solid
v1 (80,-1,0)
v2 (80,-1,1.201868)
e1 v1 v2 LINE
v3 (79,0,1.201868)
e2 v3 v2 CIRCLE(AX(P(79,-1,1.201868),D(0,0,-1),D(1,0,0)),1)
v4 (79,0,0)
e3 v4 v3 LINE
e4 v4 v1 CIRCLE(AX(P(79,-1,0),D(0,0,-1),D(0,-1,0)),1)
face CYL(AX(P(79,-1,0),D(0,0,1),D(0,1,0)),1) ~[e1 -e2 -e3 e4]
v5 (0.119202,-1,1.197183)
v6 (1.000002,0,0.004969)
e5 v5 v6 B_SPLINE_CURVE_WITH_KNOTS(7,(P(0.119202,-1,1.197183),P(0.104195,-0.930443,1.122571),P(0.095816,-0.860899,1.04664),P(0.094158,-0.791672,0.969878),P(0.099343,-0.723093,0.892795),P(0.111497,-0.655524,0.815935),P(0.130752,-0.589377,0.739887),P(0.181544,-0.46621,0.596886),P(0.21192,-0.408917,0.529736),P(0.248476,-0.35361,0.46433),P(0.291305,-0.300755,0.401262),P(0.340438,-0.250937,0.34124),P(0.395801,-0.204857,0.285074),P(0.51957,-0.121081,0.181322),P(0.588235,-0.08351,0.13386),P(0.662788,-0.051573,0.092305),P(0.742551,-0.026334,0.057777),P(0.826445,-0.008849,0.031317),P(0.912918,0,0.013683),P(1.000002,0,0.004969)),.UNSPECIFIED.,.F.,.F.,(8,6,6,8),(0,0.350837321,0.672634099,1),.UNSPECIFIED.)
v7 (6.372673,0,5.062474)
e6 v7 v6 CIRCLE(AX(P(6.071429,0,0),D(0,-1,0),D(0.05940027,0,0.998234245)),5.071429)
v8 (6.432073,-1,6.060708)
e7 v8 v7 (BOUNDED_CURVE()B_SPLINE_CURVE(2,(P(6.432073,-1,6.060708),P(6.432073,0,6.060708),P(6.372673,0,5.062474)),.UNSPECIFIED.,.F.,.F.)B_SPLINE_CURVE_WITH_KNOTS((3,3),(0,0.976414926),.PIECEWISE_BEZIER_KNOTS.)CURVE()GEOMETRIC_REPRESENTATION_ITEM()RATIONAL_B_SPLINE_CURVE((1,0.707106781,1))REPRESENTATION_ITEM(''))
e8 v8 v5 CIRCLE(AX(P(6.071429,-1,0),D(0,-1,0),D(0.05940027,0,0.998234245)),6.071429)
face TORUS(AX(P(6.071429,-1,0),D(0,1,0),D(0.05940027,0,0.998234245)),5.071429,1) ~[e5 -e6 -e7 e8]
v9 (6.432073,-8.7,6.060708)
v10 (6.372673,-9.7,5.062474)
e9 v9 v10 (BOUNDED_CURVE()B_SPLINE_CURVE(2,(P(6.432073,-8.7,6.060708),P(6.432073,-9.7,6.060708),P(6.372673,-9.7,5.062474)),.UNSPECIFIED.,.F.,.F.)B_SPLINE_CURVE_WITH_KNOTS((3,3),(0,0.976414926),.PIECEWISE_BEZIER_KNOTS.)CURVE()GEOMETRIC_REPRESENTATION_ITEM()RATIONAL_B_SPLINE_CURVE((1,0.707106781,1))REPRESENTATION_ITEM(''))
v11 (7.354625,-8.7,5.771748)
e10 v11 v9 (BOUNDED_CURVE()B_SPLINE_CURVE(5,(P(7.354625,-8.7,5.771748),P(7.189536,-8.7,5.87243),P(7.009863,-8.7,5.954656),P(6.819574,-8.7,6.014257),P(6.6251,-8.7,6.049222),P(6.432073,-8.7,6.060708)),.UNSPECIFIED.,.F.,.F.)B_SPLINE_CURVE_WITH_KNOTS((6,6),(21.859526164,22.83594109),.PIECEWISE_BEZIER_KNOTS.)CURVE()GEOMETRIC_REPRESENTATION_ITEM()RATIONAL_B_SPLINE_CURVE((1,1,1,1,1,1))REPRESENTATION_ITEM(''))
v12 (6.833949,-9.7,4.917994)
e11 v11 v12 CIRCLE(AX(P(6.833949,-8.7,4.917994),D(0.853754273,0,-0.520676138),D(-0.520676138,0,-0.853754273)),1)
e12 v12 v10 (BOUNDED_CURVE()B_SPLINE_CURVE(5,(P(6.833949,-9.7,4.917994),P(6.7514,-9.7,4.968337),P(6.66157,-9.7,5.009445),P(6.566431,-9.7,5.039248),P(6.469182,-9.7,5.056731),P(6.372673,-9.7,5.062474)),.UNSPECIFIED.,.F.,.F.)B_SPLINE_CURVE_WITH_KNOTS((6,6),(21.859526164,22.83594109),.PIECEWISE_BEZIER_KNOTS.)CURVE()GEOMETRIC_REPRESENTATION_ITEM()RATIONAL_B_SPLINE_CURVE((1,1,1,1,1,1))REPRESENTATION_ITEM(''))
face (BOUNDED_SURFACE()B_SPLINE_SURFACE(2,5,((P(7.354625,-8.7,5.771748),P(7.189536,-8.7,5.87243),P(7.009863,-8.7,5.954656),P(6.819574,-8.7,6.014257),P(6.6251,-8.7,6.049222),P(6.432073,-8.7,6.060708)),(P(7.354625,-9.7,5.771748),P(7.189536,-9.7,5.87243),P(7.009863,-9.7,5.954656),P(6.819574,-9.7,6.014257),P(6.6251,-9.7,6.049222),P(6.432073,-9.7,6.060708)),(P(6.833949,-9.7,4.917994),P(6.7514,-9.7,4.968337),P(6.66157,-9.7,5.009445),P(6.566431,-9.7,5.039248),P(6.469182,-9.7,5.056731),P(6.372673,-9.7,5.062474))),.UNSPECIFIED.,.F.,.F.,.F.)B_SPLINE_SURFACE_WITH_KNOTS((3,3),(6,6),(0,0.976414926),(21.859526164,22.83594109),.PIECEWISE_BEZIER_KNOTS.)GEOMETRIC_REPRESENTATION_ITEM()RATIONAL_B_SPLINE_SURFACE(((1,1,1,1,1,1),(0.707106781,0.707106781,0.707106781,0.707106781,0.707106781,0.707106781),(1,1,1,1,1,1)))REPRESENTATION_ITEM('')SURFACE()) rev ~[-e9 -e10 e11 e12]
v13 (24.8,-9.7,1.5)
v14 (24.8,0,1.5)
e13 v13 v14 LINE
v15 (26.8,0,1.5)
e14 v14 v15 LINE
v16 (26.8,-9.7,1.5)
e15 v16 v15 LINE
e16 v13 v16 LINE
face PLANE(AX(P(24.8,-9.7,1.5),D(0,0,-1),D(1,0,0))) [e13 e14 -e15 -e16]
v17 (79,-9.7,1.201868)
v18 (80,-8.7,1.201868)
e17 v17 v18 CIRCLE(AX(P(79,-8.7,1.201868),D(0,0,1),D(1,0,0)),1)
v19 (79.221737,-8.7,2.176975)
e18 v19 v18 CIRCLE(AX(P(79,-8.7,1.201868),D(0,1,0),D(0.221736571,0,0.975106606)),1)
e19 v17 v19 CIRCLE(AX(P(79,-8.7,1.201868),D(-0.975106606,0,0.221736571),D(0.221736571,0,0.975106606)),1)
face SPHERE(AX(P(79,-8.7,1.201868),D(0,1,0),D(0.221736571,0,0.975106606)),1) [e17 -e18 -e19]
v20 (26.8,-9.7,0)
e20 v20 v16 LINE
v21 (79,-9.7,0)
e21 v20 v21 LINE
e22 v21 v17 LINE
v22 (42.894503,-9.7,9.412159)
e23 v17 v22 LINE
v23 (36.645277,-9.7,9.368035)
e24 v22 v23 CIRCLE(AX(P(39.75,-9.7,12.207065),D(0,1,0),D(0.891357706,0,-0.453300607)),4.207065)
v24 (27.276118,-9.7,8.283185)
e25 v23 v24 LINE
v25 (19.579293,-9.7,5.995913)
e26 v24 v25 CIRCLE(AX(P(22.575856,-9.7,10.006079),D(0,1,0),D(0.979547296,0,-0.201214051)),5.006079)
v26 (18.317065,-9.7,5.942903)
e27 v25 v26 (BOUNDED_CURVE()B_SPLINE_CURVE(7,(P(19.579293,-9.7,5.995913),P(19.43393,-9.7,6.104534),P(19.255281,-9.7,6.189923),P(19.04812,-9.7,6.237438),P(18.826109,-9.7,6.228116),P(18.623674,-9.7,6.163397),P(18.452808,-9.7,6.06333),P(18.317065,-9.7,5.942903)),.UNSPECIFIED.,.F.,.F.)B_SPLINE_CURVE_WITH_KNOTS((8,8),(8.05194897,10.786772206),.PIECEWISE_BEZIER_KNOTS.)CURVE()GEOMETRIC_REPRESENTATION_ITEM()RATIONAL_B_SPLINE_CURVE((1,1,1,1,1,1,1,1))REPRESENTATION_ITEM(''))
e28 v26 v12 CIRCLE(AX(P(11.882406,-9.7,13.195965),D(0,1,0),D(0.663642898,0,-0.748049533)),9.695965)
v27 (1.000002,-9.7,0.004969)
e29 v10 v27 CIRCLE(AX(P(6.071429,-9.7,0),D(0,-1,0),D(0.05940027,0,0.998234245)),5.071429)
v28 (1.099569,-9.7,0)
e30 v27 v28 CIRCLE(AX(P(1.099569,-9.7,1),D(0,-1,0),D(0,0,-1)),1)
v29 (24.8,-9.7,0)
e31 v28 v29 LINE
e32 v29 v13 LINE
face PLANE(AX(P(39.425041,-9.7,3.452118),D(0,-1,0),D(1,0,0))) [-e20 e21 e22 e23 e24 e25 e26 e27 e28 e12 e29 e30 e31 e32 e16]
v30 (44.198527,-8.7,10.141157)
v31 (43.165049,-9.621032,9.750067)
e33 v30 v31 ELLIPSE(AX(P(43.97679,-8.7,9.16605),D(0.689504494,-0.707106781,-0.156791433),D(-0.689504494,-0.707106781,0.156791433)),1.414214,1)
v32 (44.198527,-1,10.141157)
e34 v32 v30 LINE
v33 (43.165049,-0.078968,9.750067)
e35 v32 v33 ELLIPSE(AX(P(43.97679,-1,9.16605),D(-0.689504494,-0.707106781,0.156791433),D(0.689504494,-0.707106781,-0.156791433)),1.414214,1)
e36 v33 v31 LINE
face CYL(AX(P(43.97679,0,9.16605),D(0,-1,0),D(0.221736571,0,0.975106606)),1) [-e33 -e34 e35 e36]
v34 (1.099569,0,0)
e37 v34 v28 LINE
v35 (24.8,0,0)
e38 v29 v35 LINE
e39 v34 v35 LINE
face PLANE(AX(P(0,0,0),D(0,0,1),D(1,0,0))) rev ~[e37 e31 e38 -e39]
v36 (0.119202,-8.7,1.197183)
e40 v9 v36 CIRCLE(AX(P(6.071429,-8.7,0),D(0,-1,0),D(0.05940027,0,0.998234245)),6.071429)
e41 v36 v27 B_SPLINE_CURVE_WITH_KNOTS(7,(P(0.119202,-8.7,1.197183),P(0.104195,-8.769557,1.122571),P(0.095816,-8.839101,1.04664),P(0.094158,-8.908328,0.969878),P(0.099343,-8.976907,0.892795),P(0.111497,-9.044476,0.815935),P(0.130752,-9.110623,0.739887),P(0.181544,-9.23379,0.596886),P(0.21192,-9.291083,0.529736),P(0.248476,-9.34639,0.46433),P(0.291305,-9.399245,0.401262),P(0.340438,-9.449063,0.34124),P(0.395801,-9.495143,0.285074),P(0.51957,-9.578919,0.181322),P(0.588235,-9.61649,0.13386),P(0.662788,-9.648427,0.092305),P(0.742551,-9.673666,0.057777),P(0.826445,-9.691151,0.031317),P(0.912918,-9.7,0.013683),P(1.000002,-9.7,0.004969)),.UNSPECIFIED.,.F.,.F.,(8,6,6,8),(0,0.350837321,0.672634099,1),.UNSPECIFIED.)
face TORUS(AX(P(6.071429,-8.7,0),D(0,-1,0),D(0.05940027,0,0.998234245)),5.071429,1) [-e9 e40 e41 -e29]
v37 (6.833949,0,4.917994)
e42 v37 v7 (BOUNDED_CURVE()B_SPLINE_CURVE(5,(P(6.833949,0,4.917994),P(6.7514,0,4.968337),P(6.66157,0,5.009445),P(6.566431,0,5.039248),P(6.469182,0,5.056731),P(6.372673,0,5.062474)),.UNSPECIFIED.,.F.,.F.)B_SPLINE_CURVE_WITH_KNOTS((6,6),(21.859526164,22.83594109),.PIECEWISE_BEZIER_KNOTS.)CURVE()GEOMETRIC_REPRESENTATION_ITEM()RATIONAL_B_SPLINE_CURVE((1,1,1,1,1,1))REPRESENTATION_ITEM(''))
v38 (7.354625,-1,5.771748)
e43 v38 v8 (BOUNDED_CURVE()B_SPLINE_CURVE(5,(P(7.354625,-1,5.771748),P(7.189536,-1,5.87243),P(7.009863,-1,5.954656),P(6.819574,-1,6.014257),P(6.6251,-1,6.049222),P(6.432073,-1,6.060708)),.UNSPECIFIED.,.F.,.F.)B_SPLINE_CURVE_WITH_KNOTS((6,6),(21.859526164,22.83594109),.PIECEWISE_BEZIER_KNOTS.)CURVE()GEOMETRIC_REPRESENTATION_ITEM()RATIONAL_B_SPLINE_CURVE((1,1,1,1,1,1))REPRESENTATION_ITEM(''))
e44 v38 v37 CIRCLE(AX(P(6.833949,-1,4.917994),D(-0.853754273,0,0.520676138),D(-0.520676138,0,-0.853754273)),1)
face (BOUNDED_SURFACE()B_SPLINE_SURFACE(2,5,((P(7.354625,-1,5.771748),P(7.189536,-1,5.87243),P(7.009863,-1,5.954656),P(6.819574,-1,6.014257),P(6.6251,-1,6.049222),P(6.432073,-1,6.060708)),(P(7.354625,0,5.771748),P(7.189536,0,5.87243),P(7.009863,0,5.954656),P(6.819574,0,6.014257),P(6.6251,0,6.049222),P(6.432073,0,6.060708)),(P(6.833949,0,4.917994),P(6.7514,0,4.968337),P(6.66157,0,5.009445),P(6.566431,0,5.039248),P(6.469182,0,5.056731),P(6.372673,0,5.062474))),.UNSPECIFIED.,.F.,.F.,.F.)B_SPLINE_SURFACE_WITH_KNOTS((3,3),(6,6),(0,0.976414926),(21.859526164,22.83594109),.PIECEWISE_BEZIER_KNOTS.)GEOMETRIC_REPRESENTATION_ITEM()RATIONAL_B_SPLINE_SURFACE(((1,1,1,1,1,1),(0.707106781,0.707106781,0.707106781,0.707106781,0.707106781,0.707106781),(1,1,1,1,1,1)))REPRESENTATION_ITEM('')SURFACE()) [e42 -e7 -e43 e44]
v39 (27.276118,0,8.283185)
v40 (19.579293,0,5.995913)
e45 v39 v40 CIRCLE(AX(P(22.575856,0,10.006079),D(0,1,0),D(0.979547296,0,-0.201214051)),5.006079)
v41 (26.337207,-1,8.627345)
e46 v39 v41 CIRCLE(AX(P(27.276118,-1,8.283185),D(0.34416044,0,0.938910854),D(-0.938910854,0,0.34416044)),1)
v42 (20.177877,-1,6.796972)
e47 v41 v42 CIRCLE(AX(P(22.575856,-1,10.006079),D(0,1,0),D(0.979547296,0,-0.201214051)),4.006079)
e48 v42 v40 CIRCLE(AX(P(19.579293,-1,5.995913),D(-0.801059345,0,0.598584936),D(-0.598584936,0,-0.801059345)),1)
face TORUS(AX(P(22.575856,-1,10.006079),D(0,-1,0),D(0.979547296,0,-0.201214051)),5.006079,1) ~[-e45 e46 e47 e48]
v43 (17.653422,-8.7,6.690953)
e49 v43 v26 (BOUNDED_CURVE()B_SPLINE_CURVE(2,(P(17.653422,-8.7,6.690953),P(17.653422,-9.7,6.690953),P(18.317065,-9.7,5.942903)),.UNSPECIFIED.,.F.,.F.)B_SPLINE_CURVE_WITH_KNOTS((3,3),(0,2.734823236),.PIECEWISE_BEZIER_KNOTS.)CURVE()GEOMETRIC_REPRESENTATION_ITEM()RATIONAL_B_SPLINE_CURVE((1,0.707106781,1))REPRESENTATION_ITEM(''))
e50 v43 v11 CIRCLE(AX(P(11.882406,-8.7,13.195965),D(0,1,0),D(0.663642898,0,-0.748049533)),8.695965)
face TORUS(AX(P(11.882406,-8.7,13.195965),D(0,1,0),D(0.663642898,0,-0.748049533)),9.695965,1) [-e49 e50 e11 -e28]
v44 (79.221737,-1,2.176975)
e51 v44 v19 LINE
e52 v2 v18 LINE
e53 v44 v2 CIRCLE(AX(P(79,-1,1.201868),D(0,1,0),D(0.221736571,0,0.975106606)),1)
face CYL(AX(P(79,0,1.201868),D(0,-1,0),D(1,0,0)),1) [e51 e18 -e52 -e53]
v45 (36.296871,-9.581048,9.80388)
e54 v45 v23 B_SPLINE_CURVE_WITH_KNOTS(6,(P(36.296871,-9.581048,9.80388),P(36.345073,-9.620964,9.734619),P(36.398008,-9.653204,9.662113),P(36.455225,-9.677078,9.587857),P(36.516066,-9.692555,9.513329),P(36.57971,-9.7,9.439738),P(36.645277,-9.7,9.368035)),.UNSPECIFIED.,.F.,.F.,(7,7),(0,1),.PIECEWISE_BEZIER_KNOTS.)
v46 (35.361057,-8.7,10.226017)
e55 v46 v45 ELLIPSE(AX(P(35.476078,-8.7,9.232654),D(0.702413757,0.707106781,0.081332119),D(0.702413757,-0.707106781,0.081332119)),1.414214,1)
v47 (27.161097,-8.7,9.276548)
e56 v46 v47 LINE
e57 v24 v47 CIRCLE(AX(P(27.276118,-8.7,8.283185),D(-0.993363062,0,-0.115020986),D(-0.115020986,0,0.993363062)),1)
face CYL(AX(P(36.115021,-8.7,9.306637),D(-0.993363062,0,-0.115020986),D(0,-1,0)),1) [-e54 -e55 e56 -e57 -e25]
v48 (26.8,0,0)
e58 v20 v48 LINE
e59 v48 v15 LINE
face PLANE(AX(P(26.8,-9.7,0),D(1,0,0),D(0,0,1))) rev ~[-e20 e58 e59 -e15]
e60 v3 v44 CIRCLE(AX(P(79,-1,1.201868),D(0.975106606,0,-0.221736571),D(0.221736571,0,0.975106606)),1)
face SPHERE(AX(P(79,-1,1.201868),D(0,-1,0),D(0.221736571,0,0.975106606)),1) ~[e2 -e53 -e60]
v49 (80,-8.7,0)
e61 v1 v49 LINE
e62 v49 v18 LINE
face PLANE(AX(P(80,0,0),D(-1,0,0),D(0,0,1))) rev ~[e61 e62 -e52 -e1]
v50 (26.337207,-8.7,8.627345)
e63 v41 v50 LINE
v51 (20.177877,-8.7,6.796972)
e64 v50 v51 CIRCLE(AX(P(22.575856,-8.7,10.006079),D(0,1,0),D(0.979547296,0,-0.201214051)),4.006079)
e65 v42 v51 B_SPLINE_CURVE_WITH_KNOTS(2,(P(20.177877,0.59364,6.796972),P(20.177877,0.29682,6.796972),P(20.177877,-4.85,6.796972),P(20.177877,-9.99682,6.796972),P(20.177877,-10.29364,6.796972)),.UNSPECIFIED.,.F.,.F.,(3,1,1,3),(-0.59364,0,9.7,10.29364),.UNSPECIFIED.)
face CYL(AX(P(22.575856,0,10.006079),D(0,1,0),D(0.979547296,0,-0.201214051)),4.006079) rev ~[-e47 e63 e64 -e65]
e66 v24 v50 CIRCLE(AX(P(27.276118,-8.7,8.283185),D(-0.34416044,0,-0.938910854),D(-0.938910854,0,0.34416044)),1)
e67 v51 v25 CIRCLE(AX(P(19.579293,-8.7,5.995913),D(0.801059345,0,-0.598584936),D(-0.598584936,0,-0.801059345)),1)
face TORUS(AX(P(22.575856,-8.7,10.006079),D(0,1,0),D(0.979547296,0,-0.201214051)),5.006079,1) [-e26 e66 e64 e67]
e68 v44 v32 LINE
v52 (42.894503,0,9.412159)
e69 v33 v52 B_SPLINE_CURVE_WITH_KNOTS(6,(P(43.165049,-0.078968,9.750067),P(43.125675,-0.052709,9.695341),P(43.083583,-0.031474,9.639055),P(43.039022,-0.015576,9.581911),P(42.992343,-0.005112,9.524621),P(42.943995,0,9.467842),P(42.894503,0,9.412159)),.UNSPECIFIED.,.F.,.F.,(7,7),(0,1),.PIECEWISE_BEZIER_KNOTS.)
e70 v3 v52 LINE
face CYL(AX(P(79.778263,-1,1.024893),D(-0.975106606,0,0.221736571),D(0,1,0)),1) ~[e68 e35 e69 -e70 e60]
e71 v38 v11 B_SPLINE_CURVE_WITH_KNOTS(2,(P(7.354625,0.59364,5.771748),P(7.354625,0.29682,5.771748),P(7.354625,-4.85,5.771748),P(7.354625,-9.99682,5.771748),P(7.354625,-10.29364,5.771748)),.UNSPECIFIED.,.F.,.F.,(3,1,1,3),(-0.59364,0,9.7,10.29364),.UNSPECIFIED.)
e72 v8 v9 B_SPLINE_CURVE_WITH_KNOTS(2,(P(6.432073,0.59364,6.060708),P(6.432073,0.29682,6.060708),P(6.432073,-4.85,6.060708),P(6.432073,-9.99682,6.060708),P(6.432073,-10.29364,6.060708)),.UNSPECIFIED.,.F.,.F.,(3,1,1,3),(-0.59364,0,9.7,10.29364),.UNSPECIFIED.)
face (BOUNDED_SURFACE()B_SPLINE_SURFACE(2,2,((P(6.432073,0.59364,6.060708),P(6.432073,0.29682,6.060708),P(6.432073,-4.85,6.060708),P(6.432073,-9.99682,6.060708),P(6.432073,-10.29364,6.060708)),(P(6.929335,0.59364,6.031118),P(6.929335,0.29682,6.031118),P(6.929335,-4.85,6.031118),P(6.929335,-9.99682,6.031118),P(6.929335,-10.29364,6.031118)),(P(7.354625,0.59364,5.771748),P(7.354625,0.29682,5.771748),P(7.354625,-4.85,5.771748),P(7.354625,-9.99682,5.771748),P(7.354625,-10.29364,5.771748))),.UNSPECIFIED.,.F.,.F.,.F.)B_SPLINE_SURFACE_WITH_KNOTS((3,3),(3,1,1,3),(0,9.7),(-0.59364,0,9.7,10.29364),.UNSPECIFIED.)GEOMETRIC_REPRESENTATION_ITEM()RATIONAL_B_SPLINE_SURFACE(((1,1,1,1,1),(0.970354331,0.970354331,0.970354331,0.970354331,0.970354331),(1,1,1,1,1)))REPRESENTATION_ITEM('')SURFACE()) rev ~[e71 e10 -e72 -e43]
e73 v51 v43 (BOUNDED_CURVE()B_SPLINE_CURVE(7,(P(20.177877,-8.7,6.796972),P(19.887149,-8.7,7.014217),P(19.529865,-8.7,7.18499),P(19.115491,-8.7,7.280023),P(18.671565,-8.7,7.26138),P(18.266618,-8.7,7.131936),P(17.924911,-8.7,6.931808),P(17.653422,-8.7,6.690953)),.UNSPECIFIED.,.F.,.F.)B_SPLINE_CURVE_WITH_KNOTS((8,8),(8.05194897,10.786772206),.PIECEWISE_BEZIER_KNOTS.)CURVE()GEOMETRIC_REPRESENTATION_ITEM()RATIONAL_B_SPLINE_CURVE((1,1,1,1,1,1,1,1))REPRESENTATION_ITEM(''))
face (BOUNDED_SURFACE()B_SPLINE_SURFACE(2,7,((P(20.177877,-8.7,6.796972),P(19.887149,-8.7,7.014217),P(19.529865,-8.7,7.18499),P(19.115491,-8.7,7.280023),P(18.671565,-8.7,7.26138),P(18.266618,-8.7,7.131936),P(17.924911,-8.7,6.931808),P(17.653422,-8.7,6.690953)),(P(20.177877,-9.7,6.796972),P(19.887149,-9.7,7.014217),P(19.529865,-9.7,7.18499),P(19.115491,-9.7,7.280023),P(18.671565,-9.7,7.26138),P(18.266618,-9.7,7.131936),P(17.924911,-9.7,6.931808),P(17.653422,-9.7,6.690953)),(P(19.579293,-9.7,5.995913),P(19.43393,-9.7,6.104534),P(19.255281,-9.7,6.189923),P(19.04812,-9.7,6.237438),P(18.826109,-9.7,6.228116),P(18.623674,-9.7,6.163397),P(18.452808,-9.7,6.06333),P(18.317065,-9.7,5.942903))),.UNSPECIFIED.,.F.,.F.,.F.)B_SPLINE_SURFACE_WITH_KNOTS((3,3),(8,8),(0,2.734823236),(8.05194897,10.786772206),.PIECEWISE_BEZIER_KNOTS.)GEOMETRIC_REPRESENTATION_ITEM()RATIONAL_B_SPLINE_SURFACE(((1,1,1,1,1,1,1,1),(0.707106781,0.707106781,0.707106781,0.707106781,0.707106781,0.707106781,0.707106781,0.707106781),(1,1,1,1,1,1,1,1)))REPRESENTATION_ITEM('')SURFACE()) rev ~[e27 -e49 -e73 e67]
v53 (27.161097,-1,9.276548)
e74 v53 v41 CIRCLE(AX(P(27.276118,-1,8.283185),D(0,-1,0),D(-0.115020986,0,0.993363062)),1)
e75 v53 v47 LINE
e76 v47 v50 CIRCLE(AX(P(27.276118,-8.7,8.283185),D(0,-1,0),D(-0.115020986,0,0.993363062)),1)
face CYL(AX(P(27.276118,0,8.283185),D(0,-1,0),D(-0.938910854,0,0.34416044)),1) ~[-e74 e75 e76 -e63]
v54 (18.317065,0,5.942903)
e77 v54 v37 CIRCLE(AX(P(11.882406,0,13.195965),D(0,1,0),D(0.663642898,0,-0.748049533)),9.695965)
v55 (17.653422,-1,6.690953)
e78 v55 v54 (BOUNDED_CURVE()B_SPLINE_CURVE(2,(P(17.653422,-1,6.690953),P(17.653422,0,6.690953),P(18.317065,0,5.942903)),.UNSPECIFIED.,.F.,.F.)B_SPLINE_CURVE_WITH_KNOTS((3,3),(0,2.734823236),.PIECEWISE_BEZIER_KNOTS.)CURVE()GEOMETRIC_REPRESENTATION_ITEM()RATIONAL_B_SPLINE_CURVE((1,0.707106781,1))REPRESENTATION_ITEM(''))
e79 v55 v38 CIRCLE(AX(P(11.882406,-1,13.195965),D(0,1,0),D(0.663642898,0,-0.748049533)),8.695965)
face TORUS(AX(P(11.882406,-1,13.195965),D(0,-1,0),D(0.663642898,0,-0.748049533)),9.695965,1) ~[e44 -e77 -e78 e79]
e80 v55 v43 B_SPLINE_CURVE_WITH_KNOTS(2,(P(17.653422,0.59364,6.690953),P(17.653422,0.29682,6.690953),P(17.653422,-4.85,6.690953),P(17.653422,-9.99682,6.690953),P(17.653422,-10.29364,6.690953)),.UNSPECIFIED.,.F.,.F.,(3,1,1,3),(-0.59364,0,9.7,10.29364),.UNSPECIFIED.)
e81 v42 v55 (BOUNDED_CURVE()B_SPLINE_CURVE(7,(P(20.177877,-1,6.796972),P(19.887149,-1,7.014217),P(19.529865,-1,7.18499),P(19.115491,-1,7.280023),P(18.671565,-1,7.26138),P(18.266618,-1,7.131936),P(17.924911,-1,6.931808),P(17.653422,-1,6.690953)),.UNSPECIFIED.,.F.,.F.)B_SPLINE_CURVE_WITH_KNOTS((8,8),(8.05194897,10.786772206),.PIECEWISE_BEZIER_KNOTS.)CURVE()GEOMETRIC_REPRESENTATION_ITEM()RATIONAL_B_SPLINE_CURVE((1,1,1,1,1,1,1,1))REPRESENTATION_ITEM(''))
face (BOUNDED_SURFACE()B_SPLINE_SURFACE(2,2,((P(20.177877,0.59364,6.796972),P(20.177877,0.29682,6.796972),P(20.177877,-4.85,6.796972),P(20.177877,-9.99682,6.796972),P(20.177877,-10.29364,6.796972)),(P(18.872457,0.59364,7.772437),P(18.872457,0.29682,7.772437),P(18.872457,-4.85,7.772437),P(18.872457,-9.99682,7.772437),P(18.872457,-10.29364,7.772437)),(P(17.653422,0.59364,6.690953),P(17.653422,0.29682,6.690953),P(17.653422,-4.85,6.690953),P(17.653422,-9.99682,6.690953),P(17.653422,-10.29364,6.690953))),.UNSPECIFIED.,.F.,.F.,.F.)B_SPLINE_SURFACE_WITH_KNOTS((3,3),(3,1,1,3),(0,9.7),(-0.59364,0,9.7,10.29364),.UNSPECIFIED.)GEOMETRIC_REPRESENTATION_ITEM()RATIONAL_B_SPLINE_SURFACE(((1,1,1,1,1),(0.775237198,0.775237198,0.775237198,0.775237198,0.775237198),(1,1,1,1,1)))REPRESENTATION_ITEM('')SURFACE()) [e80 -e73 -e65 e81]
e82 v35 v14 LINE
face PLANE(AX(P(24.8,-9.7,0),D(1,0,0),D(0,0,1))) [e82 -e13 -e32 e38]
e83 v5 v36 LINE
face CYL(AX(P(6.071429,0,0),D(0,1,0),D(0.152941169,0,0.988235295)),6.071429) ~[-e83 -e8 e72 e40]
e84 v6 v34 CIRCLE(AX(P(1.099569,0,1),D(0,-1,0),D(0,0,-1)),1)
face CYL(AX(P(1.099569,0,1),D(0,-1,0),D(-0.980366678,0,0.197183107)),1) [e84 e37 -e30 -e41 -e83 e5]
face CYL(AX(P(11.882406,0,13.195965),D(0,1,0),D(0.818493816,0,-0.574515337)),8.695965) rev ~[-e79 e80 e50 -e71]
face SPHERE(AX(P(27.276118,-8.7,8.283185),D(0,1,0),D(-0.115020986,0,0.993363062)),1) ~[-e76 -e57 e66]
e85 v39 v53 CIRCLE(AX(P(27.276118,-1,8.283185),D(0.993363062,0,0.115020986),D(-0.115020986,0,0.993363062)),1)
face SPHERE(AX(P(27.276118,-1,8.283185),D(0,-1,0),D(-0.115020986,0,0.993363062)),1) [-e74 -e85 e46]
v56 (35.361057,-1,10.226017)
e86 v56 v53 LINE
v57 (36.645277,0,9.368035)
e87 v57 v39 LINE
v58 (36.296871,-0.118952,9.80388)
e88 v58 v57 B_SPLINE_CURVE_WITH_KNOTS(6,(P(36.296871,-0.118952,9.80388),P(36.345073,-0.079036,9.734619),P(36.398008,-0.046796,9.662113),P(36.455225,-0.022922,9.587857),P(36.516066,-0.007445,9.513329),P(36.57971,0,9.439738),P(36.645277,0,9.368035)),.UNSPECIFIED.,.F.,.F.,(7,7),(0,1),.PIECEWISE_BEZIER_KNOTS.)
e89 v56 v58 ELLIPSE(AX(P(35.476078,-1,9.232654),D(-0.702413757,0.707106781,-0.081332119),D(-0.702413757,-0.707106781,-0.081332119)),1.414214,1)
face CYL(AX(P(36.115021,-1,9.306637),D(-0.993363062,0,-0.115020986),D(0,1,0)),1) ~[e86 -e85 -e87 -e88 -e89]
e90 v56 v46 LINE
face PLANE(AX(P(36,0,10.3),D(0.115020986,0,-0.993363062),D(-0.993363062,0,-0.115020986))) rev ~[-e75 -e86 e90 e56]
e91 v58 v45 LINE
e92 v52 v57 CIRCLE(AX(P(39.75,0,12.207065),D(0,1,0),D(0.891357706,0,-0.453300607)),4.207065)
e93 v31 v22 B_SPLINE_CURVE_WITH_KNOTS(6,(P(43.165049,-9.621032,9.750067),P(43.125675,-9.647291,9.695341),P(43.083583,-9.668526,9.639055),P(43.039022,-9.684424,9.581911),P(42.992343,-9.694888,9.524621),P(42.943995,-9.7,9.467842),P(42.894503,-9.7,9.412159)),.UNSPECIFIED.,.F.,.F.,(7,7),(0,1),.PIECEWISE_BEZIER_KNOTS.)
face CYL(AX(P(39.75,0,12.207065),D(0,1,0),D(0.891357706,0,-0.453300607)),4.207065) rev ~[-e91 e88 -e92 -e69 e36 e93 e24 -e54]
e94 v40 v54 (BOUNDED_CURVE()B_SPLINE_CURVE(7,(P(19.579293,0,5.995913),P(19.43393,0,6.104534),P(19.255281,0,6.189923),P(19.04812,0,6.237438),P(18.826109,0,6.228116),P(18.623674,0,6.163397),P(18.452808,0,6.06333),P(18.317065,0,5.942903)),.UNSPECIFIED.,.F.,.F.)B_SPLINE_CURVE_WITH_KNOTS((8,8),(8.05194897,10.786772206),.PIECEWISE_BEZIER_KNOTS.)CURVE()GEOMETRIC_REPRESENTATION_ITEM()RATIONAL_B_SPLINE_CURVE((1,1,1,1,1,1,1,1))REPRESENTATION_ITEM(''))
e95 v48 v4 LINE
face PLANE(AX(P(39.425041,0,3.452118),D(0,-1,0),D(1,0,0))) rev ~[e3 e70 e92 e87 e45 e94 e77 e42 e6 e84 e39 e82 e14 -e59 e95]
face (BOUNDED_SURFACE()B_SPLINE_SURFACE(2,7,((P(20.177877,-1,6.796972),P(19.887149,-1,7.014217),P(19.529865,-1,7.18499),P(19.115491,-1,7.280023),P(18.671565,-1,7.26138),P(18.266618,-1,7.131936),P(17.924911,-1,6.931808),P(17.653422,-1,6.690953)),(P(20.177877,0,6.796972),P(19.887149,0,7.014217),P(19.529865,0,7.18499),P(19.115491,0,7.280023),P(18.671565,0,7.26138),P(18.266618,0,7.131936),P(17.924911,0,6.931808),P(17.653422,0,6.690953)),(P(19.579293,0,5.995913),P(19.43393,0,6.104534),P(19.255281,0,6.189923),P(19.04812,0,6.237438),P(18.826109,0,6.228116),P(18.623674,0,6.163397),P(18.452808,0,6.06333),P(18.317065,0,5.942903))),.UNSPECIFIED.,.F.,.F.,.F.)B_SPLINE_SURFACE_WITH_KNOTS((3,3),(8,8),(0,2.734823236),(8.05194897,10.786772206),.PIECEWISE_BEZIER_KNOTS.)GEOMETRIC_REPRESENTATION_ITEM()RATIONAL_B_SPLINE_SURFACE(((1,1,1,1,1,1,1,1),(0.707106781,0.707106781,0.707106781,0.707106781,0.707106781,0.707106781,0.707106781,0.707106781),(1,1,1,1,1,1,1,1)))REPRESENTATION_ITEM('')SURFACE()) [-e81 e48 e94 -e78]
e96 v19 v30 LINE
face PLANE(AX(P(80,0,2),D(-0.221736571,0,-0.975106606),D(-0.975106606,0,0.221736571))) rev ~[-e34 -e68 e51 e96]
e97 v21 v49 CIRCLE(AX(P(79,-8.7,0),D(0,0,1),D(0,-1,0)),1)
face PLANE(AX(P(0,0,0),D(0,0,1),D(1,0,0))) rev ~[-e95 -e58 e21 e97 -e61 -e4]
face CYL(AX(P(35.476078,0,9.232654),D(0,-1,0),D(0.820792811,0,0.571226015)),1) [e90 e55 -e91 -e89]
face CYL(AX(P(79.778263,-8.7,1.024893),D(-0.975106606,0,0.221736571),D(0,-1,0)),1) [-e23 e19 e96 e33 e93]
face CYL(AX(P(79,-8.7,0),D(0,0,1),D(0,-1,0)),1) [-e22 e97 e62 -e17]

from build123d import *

# Parameters (mm, degrees)
F1_DEPTH = 9.7
F3_R     = 2
F4_R     = 1
F2_W     = 2
F2_H     = 1.5
F5_DEPTH = 9.701


with BuildPart() as f1:
    # F0 (on Front) → F1 (new body)
    with BuildSketch(Plane.XZ):
        with BuildLine():
            ThreePointArc((7, 6), (2.120195, 4.609772), (0, 0))
            Line((0, 0), (80, 0))
            Line((80, 0), (80, 2))
            Line((80, 2), (43.5, 10.3))
            ThreePointArc((43.5, 10.3), (39.75, 8), (36, 10.3))
            Line((36, 10.3), (26.5, 9.2))
            ThreePointArc((26.5, 9.2), (23.105314, 6.035142), (19, 8.2))
            ThreePointArc((19, 8.2), (13.450531, 4.642557), (7, 6))
        make_face()
    extrude(amount=F1_DEPTH)

    # F3
    f3_edges = [f1.edges().sort_by_distance(p)[0] for p in [
        (19, -4.85, 8.2),
        (7, -4.85, 6),
    ]]
    fillet(f3_edges, radius=F3_R)

    # F4
    f4_edges = [f1.edges().sort_by_distance(p)[0] for p in [
        (26.5, -4.85, 9.2),
        (36, -4.85, 10.3),
        (43.5, -4.85, 10.3),
        (80, -4.85, 2),
        (61.75, 0, 6.15),
        (61.75, -9.7, 6.15),
        (31.25, 0, 9.75),
        (31.25, -9.7, 9.75),
        (1.907739, 0, 4.418816),
        (6.432073, -4.85, 6.060708),
        (0, -4.85, 0),
        (1.907739, -9.7, 4.418816),
        (80, -9.7, 1),
        (80, 0, 1),
    ]]
    fillet(f4_edges, radius=F4_R)

    # F2 (on face) → F5 (cut, through all)
    with BuildSketch(Plane.XZ.offset(9.7)):
        with Locations((25.8, 0.75)):
            Rectangle(F2_W, F2_H)
    extrude(amount=-F5_DEPTH, mode=Mode.SUBTRACT)


solid = f1.part
